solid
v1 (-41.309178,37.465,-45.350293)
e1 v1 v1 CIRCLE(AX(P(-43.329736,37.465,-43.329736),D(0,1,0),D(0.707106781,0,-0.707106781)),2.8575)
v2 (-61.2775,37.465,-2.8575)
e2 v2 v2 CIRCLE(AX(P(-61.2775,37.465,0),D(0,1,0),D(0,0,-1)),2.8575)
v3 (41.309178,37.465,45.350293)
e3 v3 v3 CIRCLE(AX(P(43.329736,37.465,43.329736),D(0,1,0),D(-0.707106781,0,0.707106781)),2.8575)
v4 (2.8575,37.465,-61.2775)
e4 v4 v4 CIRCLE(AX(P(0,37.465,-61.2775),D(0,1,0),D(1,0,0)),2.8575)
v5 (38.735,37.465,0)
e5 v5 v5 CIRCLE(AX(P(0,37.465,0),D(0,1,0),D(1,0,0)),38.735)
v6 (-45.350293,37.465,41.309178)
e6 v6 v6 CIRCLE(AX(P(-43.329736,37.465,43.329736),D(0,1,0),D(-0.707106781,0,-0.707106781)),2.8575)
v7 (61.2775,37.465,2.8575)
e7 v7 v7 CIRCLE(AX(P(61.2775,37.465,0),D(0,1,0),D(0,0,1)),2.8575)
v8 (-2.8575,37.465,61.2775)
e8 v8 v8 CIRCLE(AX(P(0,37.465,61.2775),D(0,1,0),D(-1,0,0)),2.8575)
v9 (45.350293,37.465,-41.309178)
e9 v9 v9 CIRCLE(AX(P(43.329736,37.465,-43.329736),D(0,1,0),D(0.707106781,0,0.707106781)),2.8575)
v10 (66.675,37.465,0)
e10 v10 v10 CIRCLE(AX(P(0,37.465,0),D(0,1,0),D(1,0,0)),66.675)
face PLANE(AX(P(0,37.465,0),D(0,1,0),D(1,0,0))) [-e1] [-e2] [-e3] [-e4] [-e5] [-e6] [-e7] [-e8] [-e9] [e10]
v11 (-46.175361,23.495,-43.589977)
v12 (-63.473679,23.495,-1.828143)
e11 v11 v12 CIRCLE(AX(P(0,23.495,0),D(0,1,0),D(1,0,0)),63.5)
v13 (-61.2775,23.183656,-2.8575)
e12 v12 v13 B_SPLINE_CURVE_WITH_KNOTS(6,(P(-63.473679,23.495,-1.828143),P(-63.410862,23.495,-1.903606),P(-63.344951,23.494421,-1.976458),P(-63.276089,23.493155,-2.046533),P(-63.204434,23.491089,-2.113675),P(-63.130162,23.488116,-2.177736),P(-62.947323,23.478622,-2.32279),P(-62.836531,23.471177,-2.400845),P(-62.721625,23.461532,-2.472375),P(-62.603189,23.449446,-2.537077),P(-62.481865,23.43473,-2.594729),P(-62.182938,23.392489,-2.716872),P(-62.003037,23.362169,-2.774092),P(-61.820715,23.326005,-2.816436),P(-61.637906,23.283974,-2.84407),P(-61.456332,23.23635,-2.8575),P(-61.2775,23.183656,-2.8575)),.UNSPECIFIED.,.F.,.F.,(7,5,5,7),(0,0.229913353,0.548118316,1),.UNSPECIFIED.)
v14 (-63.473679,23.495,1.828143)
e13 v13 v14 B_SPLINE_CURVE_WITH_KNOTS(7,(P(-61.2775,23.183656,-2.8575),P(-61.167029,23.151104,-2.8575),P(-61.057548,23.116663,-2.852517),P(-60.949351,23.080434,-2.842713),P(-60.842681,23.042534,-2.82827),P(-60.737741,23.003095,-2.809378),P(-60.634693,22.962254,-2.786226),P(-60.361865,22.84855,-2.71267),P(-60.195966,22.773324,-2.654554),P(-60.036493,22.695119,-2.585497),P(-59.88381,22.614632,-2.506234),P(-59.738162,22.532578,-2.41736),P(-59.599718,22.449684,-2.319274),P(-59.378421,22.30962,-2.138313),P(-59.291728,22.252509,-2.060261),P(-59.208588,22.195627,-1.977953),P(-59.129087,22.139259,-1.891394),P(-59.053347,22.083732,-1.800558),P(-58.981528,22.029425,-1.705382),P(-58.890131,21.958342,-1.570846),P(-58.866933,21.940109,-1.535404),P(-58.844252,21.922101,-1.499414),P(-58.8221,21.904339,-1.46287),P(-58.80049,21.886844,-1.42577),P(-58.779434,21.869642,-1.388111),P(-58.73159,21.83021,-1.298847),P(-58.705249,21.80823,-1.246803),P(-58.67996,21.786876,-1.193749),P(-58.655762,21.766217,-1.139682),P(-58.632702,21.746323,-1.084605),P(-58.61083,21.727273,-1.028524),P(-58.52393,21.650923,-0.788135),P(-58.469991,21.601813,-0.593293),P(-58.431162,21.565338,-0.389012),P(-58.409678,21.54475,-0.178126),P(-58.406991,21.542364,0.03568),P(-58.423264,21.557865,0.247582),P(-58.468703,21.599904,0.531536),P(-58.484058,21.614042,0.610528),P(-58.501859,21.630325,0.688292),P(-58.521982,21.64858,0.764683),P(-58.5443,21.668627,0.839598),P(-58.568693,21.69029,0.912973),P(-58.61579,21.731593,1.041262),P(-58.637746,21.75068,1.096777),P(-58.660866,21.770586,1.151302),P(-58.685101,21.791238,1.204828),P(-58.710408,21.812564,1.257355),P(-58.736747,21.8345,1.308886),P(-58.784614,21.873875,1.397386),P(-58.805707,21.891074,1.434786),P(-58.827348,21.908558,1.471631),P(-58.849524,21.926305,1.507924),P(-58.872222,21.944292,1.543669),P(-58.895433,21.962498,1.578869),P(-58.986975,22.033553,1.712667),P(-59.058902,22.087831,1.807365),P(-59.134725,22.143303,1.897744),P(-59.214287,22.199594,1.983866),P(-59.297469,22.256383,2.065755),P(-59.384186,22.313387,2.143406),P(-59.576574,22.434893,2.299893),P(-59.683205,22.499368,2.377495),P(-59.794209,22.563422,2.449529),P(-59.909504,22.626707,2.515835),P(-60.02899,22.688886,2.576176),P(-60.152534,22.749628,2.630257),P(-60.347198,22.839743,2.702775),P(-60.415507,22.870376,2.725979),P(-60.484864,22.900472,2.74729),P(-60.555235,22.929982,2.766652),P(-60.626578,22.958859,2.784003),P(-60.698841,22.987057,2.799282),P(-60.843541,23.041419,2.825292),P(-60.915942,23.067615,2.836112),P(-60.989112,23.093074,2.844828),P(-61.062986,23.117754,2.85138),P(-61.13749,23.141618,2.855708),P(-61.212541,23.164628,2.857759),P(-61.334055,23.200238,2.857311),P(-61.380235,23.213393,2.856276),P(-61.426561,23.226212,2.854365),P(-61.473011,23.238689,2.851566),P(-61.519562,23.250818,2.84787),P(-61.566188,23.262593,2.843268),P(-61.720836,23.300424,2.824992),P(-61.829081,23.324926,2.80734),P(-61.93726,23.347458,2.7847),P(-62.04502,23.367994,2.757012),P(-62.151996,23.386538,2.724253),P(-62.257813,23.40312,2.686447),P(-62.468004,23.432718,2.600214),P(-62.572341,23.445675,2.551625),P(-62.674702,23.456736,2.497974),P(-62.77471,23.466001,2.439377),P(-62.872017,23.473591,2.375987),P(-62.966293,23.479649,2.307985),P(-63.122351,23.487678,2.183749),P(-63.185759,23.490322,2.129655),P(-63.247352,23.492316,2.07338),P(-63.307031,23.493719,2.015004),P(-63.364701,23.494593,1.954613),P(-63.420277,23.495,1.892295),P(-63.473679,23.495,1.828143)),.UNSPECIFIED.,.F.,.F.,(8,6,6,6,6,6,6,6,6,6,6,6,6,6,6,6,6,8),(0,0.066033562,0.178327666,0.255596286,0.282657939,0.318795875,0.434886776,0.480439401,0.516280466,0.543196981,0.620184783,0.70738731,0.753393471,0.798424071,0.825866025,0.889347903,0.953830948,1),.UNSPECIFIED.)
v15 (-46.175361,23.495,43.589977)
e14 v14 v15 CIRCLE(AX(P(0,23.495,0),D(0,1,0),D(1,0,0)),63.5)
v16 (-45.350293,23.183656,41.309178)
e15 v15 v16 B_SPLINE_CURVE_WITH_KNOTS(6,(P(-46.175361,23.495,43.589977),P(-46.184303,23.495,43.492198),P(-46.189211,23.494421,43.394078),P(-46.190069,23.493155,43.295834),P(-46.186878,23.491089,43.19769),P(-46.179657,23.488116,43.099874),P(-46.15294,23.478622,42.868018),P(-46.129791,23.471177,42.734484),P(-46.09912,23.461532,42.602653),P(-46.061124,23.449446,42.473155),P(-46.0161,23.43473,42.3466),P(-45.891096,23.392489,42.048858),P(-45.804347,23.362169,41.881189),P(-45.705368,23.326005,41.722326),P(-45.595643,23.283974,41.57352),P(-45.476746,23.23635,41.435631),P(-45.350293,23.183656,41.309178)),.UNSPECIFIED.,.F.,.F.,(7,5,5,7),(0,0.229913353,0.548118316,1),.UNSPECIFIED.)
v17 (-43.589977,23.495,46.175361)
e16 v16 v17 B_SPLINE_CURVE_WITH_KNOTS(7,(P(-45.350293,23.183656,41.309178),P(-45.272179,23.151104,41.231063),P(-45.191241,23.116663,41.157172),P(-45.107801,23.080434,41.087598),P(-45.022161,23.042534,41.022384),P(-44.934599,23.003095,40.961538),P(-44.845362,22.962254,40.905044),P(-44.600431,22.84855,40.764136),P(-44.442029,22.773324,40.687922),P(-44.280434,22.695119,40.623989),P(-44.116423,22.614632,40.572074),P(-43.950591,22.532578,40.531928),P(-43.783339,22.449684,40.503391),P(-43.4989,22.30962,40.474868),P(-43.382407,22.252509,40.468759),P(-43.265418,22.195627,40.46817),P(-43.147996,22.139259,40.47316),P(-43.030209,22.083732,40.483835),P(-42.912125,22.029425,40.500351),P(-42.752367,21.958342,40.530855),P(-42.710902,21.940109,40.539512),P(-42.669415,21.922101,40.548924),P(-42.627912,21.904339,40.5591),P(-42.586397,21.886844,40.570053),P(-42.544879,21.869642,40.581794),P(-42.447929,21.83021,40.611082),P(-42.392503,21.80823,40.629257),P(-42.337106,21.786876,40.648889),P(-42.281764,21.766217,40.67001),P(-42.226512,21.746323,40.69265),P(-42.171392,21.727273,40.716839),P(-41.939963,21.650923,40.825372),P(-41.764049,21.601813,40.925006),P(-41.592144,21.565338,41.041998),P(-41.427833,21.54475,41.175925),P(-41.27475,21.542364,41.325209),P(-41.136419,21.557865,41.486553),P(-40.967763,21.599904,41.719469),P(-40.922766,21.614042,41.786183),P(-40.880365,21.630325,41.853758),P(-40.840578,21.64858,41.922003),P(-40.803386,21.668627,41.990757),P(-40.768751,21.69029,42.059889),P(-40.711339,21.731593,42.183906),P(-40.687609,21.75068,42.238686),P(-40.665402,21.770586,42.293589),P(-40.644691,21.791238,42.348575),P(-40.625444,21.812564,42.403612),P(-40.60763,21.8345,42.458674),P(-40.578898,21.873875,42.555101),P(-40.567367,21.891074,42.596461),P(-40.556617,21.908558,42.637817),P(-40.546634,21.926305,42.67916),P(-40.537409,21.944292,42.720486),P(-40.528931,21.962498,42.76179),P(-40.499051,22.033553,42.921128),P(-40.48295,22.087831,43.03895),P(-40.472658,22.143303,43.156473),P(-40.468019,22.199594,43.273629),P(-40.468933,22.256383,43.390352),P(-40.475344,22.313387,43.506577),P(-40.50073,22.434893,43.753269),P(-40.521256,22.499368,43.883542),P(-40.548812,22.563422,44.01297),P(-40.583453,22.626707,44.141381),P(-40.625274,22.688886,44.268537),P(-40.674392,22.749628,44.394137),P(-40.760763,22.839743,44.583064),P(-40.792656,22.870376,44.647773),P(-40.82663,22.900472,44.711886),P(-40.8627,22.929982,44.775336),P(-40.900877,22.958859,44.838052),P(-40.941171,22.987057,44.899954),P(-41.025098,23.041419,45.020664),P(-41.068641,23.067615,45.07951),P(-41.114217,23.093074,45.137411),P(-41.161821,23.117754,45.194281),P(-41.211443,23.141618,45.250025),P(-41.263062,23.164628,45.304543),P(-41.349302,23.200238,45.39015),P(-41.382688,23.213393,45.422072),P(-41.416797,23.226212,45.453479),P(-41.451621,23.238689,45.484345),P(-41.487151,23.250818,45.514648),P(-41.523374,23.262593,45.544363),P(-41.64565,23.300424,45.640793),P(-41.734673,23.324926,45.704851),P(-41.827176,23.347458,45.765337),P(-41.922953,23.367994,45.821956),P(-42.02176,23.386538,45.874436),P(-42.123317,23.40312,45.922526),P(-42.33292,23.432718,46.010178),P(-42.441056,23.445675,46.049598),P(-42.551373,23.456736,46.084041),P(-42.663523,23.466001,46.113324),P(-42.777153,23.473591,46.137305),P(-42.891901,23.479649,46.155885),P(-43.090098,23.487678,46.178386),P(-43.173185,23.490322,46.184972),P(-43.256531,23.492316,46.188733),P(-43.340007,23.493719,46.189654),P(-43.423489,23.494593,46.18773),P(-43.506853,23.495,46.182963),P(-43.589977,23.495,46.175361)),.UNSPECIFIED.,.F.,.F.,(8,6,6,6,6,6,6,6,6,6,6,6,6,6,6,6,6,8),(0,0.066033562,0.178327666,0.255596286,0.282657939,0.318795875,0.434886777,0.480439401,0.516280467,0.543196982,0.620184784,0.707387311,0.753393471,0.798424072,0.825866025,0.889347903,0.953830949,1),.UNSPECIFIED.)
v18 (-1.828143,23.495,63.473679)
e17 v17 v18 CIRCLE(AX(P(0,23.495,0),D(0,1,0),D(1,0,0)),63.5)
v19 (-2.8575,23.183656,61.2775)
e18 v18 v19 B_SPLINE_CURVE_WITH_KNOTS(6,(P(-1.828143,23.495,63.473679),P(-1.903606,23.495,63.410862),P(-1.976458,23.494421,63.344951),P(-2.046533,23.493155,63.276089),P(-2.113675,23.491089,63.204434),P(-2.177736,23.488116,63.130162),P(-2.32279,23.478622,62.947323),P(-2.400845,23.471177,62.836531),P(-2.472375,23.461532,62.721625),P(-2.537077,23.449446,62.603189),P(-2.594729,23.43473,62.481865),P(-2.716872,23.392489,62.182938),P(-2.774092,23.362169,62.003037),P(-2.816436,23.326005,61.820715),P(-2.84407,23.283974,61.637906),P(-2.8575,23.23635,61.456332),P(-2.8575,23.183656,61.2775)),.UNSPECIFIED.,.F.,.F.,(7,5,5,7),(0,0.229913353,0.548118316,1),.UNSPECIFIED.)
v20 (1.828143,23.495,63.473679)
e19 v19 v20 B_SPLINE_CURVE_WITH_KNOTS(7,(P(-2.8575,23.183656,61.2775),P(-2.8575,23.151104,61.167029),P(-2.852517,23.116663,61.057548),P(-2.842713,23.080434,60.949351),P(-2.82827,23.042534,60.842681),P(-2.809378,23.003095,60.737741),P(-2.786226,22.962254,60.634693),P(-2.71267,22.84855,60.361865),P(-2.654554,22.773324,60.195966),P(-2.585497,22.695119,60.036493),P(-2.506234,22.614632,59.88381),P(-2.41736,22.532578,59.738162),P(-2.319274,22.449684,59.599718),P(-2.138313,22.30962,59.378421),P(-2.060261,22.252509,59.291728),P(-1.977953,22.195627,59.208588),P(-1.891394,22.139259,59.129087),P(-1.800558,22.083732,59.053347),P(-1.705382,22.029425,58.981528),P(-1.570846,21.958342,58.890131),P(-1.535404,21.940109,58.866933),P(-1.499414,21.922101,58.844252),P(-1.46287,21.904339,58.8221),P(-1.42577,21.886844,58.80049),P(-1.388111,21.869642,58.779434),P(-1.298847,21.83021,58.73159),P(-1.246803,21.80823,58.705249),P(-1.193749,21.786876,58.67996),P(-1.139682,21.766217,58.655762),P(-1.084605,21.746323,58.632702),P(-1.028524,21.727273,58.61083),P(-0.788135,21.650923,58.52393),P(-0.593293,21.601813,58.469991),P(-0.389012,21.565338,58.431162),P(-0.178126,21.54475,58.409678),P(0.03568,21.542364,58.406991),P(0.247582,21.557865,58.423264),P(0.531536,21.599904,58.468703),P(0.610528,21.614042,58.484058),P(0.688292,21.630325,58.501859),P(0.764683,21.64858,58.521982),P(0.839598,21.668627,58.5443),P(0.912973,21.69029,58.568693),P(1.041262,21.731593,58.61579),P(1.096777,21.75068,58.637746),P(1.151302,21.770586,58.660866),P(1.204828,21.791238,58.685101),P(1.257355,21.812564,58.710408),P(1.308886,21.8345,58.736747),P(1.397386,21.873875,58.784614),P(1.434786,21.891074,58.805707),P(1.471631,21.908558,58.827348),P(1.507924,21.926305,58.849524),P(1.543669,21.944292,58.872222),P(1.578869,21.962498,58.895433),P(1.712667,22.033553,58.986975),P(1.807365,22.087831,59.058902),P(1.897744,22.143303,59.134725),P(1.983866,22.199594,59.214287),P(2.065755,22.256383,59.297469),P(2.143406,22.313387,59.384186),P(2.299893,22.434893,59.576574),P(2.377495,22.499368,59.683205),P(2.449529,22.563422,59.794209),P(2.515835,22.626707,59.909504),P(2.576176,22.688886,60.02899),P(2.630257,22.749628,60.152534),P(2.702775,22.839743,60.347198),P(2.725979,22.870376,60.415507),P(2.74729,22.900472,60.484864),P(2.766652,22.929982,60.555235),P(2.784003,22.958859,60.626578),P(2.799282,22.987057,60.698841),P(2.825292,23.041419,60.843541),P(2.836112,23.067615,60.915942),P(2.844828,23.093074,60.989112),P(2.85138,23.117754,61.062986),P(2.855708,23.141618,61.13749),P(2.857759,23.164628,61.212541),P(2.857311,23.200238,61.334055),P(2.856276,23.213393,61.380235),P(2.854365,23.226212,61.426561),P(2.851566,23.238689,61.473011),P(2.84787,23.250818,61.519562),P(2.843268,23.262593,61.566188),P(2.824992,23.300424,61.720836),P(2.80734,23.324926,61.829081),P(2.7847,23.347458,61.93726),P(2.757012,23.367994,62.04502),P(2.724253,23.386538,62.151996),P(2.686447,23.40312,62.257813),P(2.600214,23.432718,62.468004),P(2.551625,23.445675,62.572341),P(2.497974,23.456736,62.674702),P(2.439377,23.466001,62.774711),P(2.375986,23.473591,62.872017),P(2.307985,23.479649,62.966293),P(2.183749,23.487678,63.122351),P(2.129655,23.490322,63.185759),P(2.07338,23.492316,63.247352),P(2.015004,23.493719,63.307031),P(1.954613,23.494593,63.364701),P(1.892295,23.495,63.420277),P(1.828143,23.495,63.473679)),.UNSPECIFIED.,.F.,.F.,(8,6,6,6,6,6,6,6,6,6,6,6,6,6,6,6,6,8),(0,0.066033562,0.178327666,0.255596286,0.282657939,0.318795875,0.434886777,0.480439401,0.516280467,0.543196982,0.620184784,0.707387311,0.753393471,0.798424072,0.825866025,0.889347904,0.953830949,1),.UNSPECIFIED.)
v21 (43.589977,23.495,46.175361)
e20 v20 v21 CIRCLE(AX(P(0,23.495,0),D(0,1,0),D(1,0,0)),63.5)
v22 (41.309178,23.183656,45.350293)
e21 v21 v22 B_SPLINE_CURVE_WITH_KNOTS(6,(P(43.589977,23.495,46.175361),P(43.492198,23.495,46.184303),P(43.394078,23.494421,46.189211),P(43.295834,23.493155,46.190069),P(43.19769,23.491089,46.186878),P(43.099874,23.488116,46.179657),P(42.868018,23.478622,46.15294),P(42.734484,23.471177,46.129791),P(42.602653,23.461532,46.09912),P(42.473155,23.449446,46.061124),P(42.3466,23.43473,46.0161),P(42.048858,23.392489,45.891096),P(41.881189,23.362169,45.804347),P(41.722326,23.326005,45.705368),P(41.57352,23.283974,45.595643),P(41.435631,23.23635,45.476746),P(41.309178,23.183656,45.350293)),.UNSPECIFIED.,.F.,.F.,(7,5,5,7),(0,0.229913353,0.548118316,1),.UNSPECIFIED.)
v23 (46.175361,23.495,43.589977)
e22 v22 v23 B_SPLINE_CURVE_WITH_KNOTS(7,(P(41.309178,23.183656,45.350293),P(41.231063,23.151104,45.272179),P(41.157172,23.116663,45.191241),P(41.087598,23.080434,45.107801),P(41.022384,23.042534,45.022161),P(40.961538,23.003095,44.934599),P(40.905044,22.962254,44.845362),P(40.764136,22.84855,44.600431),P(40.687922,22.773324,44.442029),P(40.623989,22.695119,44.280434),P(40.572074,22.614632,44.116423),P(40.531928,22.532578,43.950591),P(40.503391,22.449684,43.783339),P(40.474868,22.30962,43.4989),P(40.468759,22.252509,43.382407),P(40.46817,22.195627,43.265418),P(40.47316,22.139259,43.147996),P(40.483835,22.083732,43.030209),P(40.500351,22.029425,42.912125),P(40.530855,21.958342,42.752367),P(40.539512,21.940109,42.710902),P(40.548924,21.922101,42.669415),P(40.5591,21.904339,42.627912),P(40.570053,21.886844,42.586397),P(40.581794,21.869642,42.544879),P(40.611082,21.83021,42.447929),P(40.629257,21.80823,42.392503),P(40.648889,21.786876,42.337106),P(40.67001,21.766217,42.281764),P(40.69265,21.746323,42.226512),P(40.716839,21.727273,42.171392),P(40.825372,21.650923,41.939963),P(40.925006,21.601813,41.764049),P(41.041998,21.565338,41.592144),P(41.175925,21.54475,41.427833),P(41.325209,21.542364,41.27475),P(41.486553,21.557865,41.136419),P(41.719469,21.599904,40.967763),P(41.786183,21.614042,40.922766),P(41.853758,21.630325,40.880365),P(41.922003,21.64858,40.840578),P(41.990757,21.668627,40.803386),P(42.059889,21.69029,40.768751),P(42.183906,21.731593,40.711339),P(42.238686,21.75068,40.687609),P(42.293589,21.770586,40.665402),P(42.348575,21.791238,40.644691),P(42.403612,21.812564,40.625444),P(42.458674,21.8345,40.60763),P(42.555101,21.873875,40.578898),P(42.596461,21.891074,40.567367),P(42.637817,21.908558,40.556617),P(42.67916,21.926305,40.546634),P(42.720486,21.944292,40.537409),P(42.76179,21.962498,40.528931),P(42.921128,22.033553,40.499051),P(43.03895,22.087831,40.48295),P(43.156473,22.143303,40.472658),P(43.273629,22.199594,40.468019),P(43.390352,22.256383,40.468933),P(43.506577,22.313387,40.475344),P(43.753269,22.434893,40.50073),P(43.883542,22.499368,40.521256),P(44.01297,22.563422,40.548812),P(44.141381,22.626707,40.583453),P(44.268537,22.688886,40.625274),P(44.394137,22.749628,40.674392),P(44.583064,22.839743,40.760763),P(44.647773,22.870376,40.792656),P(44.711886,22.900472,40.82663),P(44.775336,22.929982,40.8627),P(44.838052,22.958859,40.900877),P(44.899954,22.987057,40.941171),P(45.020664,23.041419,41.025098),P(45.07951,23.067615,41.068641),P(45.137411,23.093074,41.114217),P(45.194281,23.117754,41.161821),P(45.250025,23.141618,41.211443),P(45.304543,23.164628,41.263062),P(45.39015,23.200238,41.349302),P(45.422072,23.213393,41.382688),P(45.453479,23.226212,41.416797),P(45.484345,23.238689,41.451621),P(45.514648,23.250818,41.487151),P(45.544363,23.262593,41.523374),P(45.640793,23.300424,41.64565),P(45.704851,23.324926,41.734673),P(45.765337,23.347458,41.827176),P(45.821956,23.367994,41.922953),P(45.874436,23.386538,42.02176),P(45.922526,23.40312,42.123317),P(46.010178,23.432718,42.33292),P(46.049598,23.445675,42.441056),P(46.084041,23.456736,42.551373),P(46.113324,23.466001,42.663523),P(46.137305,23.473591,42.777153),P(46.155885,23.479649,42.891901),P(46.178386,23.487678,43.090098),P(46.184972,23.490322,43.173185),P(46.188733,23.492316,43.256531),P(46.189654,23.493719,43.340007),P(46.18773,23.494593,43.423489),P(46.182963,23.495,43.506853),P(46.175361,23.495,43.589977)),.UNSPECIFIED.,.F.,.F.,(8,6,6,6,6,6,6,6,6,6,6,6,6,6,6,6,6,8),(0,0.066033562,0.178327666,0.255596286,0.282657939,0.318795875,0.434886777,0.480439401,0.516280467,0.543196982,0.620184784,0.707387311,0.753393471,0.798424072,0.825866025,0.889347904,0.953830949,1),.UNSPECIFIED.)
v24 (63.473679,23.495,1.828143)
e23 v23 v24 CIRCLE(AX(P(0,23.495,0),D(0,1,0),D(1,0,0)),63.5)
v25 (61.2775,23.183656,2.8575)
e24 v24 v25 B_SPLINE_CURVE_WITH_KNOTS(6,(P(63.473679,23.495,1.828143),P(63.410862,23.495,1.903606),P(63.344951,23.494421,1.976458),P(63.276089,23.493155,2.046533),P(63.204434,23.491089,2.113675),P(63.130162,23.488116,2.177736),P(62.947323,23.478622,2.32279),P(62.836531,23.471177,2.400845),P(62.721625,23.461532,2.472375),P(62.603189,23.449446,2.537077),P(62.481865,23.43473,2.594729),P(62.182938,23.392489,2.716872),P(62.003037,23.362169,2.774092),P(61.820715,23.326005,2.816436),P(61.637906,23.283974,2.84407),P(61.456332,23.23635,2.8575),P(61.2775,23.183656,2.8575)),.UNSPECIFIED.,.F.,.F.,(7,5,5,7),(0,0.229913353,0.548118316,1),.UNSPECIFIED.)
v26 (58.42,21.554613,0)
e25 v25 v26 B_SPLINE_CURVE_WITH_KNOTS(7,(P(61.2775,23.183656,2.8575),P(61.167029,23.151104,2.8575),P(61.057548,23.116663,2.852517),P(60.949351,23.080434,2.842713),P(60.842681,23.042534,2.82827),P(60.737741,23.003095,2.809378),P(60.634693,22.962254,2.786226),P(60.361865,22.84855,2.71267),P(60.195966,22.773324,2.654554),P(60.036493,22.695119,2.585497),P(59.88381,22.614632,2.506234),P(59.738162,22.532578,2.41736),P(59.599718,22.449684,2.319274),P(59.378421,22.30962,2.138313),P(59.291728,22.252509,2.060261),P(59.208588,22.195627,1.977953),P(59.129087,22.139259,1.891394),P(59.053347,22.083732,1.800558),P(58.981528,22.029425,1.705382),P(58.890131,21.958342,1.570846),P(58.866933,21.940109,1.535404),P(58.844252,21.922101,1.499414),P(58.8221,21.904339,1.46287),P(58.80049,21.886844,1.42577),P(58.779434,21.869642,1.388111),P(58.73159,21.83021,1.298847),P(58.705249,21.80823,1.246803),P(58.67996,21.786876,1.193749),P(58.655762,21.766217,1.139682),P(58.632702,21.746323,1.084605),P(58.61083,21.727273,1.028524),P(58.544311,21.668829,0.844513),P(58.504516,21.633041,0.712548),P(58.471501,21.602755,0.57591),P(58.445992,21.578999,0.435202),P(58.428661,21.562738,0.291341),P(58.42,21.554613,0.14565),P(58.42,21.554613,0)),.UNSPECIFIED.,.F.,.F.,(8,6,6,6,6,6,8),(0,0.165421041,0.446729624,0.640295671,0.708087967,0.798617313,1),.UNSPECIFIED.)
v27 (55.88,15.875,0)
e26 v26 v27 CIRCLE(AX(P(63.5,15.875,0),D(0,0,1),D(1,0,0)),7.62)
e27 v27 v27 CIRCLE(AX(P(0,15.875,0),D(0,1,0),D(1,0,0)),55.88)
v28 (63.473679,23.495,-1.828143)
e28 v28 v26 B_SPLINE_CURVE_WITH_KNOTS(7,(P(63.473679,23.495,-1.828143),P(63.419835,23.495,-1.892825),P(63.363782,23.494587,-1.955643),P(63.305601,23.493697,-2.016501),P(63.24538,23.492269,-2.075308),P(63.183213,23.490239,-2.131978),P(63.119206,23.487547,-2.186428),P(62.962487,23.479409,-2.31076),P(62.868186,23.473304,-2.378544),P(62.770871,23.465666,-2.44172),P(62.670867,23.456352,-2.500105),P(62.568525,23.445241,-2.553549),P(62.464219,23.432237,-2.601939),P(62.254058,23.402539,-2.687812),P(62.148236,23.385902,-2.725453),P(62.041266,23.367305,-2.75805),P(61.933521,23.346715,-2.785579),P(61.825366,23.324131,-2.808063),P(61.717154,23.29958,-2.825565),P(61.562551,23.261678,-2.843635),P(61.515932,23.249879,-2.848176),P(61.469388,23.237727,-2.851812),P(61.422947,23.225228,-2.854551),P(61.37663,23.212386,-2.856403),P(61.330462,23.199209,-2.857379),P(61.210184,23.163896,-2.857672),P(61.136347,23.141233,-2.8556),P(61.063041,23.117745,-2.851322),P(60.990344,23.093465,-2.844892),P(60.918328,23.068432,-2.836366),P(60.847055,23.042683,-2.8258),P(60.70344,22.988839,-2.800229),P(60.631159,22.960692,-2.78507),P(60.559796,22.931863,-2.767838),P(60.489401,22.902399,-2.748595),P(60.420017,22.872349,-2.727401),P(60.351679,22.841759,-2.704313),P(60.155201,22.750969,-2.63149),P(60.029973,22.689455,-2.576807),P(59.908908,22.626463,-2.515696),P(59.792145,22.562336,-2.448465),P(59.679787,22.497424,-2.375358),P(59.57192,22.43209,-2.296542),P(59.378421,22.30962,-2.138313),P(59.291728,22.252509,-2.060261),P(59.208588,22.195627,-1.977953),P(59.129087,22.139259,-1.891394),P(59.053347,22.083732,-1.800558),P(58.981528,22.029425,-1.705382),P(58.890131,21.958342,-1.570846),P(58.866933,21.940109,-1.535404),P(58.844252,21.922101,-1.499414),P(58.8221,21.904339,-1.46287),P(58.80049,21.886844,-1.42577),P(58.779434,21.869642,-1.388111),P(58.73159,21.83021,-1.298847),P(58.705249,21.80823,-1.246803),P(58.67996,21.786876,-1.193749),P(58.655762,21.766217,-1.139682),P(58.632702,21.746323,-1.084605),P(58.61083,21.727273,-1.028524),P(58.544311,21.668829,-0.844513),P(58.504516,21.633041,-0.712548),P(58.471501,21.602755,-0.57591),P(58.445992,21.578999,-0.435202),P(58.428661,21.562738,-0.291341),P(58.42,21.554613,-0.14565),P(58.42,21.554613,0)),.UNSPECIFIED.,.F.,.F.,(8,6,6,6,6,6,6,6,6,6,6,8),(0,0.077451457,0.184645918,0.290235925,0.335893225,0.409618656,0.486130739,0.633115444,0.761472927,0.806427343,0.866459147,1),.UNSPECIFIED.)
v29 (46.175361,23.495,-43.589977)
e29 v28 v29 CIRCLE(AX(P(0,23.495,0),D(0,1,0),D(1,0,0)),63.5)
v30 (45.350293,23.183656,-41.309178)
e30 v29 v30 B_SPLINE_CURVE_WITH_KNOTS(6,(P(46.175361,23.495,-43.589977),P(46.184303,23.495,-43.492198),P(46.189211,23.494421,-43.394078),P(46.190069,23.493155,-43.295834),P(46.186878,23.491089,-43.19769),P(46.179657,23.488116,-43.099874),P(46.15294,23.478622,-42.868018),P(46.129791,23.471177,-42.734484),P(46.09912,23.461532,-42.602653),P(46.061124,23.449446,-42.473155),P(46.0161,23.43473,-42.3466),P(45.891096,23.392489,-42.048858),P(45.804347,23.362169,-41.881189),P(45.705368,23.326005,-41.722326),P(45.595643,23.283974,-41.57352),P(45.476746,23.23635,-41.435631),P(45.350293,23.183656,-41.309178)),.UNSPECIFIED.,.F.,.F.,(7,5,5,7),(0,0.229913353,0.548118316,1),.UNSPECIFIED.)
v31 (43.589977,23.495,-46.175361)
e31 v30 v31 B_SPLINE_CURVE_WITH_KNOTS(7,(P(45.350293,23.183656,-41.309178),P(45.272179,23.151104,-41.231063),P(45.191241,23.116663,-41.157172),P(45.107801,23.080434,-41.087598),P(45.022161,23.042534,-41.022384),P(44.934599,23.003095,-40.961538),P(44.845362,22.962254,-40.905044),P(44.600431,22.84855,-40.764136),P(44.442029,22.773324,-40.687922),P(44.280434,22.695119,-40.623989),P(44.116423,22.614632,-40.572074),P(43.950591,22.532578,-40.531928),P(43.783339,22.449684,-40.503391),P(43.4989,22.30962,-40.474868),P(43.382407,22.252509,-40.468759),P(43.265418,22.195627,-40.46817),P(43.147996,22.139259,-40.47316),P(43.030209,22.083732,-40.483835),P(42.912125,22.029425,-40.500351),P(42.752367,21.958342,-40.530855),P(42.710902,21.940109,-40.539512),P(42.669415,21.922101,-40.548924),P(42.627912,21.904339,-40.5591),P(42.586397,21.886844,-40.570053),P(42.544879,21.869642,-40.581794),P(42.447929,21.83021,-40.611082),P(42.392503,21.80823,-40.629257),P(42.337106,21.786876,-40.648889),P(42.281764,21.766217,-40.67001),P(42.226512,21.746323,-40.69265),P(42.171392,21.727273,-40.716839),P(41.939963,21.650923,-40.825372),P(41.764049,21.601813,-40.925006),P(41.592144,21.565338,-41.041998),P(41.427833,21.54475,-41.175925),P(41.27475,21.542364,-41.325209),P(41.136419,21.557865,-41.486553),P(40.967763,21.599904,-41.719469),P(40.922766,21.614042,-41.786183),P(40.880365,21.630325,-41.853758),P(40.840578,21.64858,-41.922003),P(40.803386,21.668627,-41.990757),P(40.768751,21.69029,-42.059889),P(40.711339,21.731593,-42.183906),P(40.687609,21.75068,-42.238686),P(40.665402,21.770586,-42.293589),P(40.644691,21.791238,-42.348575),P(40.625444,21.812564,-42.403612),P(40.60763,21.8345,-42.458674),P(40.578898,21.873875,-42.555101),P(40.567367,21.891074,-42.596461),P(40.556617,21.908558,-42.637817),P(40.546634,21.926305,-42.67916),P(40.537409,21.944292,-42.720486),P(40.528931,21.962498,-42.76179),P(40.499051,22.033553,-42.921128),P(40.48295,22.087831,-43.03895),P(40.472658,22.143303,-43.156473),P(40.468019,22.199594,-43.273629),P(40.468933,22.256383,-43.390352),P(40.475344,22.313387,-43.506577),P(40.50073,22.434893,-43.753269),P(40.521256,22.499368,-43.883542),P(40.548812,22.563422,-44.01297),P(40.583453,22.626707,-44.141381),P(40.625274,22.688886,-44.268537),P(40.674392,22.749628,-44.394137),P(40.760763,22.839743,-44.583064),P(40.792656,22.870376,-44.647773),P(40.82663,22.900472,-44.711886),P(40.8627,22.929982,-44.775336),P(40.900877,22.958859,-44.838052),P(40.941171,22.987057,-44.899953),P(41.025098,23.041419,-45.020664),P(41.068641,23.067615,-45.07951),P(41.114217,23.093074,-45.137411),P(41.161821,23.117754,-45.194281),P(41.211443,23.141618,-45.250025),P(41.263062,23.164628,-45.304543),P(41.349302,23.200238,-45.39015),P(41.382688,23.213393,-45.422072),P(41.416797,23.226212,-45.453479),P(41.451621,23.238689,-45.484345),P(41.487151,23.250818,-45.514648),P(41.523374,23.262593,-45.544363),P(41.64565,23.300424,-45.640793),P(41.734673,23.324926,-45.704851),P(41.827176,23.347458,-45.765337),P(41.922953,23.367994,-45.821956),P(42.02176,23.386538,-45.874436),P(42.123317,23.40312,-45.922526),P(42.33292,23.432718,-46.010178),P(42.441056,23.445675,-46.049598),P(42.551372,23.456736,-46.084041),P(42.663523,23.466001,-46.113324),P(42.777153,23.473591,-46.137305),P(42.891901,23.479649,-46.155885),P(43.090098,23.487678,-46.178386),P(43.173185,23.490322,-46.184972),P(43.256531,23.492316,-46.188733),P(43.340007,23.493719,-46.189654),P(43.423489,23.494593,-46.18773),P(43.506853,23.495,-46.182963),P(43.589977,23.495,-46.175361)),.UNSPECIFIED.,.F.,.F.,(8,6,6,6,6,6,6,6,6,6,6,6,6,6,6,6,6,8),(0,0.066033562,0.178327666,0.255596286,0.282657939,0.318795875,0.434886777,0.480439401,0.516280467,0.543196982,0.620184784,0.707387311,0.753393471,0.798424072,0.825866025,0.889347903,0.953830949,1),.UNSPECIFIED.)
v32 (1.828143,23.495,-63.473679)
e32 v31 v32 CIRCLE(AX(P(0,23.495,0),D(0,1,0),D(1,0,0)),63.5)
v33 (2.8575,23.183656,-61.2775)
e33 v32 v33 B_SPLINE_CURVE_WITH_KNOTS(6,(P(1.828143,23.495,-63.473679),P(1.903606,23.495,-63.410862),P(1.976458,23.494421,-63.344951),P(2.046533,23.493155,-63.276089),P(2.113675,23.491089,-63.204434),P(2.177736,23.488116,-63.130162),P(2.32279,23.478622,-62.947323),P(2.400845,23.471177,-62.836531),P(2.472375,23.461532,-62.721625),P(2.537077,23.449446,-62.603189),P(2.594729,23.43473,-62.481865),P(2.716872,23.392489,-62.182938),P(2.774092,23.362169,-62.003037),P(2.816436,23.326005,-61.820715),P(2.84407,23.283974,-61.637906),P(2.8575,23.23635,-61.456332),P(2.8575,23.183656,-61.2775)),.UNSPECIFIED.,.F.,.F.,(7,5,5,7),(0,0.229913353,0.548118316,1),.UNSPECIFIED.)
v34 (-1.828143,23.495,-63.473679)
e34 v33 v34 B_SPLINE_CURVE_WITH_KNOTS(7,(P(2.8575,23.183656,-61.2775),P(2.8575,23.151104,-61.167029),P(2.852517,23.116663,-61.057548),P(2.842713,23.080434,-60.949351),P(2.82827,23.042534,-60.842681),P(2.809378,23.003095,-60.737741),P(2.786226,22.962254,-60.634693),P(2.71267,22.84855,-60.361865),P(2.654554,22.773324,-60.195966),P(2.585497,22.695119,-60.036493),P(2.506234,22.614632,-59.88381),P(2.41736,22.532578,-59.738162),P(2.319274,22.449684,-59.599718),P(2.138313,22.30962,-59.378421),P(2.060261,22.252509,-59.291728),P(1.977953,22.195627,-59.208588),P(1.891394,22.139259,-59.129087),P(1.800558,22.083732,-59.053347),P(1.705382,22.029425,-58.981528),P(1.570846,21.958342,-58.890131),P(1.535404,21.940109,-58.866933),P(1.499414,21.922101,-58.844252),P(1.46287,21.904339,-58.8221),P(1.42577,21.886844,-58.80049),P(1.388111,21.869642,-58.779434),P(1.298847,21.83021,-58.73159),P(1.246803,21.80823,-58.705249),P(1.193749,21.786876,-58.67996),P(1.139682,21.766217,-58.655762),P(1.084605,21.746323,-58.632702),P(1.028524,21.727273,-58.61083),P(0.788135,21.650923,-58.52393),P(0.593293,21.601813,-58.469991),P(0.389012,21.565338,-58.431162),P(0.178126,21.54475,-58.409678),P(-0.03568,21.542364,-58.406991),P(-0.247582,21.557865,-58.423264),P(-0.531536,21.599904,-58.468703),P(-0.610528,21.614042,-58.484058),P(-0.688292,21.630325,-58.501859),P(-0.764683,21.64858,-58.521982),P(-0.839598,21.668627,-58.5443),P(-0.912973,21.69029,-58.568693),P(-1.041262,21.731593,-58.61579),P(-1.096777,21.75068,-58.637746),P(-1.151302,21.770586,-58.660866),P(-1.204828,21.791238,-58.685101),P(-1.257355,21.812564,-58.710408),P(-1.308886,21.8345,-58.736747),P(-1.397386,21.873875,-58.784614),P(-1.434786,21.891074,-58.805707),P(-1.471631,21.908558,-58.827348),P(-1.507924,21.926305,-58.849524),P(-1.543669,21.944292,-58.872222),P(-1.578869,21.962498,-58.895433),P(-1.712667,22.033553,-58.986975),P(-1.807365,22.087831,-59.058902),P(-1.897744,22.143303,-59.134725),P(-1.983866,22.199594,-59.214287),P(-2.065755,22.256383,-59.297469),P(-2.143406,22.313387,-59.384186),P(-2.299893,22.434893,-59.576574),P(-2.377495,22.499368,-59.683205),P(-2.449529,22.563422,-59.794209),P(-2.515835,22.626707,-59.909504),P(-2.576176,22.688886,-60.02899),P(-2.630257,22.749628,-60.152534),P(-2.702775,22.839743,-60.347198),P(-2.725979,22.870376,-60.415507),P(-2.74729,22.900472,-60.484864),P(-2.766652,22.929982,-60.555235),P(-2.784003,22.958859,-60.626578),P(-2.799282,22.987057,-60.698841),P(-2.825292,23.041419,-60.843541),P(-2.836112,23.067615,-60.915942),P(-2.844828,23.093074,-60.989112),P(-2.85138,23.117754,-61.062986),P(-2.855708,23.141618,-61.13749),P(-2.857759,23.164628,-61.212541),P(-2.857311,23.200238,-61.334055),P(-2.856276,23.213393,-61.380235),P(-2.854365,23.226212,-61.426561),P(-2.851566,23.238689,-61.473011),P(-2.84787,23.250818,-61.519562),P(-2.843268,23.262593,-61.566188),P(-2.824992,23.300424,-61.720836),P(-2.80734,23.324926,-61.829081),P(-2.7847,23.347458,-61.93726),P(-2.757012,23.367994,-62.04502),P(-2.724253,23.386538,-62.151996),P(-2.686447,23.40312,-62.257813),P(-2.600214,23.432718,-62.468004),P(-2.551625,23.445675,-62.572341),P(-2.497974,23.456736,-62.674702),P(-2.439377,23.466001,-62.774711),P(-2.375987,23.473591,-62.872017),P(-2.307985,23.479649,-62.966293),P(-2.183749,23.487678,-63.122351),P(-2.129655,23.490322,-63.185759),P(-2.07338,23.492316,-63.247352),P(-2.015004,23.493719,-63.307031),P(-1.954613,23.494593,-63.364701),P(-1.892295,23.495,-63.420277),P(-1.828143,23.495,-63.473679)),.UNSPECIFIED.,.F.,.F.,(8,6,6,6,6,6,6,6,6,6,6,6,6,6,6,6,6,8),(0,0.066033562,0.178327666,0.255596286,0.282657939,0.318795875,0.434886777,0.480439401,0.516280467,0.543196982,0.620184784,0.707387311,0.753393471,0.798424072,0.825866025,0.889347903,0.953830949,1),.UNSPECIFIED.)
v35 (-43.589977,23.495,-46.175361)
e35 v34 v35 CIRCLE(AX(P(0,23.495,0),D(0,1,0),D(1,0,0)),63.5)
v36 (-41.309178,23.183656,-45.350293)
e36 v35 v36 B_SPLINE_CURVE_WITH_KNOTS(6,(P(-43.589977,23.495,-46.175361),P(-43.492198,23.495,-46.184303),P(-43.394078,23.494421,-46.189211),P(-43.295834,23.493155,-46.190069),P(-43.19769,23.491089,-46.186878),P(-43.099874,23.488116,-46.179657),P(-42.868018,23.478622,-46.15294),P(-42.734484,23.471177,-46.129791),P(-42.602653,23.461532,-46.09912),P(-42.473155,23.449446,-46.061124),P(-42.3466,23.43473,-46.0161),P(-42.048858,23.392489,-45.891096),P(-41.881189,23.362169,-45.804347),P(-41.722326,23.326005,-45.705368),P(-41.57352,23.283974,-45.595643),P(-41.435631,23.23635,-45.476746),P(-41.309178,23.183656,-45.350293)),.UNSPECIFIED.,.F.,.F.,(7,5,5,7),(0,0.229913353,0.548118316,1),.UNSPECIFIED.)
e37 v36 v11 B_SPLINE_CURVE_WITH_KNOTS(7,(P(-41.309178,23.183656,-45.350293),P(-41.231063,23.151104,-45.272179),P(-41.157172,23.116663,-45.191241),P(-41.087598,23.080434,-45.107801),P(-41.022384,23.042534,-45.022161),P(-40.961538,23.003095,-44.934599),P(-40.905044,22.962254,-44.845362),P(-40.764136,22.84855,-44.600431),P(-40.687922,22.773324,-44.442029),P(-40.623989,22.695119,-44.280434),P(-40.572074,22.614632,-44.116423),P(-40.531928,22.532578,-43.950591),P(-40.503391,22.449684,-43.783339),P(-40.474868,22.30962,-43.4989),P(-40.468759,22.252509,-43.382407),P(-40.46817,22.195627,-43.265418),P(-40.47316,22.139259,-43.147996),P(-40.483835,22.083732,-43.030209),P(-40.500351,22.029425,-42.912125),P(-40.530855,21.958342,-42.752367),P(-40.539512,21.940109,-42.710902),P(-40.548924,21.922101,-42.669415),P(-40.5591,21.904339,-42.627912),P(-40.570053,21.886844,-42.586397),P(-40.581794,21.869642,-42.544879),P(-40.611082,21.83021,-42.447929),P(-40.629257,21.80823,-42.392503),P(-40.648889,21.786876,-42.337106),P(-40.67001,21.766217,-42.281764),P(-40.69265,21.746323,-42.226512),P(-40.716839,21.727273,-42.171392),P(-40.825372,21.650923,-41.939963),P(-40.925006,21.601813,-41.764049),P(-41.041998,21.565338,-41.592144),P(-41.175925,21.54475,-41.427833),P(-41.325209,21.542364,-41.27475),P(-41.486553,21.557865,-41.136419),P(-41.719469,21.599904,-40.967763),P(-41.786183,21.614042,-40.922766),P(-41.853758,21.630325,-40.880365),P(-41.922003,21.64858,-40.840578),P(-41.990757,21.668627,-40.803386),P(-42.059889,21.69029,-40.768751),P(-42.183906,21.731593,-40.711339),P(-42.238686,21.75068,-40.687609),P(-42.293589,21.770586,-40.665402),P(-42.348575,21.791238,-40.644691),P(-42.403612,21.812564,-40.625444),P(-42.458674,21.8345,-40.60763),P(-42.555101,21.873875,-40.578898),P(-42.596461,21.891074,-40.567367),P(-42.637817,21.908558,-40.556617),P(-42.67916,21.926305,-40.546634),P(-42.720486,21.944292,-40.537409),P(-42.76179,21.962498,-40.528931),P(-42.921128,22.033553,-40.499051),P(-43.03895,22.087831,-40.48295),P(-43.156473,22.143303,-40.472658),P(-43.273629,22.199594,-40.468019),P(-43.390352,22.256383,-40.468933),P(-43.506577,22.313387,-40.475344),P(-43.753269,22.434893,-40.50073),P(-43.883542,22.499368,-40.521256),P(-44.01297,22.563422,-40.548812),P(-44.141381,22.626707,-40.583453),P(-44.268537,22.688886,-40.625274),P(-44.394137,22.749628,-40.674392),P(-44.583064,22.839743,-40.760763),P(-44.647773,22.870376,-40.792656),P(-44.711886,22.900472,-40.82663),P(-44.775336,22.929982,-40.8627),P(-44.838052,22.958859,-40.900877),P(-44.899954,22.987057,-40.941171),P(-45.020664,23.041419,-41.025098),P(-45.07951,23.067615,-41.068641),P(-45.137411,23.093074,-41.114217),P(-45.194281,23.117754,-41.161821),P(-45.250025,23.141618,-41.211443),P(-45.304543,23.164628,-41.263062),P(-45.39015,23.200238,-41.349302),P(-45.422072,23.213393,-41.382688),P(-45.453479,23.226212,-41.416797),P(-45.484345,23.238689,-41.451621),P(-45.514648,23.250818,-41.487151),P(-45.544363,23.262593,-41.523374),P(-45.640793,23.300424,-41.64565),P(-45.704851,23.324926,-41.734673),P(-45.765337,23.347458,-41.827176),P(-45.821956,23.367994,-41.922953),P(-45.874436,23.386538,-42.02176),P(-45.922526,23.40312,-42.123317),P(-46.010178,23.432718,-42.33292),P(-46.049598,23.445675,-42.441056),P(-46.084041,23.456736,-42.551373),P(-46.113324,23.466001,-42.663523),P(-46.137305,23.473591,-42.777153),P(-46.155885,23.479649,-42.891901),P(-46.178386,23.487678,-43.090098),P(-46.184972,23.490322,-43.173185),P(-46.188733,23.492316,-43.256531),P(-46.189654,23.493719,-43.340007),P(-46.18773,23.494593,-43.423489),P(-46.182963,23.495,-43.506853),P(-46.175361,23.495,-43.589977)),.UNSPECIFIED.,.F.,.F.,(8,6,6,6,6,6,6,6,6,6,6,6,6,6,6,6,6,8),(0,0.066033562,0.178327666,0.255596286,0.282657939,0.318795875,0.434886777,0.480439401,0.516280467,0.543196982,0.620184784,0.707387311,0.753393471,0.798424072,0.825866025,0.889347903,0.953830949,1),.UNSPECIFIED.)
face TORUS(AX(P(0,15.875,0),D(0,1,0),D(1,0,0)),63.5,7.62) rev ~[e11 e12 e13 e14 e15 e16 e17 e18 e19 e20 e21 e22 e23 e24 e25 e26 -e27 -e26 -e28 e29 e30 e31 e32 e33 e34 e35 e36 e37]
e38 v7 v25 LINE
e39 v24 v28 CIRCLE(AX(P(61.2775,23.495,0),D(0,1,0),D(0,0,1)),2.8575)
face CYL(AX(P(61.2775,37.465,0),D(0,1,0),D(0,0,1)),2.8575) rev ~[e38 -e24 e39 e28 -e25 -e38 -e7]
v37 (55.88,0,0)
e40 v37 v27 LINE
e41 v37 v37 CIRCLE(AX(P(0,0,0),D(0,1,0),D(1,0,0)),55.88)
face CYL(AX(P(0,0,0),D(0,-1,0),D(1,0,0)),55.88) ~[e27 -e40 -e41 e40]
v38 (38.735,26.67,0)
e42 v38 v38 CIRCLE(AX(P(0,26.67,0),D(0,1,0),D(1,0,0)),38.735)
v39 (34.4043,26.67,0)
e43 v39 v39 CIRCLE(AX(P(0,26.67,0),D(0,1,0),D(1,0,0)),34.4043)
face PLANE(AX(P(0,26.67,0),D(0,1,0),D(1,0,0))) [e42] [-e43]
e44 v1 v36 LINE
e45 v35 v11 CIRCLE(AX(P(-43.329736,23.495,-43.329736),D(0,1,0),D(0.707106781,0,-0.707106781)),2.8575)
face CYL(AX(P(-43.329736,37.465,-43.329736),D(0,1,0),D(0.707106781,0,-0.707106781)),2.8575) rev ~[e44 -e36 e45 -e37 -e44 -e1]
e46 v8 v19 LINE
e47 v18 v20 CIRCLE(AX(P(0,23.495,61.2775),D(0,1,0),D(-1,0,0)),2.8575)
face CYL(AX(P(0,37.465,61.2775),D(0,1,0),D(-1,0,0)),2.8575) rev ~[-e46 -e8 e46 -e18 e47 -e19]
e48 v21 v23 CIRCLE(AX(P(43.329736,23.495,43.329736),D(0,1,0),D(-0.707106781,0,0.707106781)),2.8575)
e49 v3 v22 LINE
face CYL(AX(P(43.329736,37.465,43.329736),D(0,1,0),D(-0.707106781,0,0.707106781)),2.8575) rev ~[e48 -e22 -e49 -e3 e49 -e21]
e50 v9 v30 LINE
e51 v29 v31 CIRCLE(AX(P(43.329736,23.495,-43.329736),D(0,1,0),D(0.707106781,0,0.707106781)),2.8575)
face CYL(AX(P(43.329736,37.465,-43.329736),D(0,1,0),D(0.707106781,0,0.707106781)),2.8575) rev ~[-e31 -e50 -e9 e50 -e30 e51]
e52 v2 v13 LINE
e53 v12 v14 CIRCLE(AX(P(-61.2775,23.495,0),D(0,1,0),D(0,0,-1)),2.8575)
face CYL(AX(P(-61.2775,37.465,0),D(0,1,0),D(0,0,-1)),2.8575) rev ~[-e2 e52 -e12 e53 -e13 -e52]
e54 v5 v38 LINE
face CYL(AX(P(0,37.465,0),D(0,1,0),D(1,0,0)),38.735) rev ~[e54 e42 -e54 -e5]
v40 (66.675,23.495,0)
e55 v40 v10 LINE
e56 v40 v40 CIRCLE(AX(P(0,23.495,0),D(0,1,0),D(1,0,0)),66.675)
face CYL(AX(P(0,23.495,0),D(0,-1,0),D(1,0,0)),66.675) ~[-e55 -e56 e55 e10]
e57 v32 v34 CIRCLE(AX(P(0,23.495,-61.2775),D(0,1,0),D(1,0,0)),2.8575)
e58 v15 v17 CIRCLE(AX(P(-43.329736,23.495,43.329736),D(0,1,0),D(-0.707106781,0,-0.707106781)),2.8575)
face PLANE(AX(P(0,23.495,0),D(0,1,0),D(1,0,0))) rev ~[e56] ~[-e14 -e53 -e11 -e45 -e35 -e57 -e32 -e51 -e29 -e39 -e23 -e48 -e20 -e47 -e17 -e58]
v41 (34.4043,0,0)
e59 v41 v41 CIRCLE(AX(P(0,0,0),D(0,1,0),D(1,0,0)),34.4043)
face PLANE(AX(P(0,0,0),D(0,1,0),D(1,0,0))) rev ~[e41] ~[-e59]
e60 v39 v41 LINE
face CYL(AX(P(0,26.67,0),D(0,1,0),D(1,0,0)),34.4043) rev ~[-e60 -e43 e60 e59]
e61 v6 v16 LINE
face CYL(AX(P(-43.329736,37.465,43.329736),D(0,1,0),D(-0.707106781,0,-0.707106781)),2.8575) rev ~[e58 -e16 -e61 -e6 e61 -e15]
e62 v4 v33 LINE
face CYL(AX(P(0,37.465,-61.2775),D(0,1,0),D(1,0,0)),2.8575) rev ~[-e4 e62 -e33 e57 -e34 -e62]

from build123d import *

# Parameters (mm, degrees)
SKETCH1_R           = 55.88
BOSS_EXTRUDE1_DEPTH = 23.495
SKETCH2_R           = 66.675
BOSS_EXTRUDE2_DEPTH = 13.97
FILLET1_R           = 7.62
SKETCH3_R           = 2.8575
CUT_EXTRUDE1_DEPTH  = 38.465
CIRPATTERN1_COUNT   = 8
SKETCH4_R           = 38.735
CUT_EXTRUDE2_DEPTH  = 10.795
SKETCH5_R           = 34.4043
CUT_EXTRUDE3_DEPTH  = 40.894


with BuildPart() as part:
    # Sketch1 → Boss-Extrude1 (new body)
    with BuildSketch(Plane(origin=(0, 0, 0), x_dir=(1, 0, 0), z_dir=(0, 1, 0))):
        Circle(SKETCH1_R)
    extrude(amount=BOSS_EXTRUDE1_DEPTH)

    # Sketch2 → Boss-Extrude2 (add)
    with BuildSketch(Plane(origin=(0, 23.495, 0), x_dir=(1, 0, 0), z_dir=(0, 1, 0))):
        Circle(SKETCH2_R)
    extrude(amount=BOSS_EXTRUDE2_DEPTH)

    # Fillet1
    fillet1_edges = [part.edges().sort_by_distance(p)[0] for p in [
        (-55.88, 23.495, 0),
    ]]
    fillet(fillet1_edges, radius=FILLET1_R)

    # Sketch3 → Cut-Extrude1 (cut, through all)
    with BuildSketch(Plane(origin=(0, 37.465, 0), x_dir=(1, 0, 0), z_dir=(0, 1, 0))):
        with Locations((0, 61.2775)):
            Circle(SKETCH3_R)
    cut_extrude1 = extrude(amount=-CUT_EXTRUDE1_DEPTH, mode=Mode.SUBTRACT)

    # CirPattern1: Cut-Extrude1 ×8 about axis
    cirpattern1_axis = Axis((0, 0, 0), (0, 1, 0))
    for i in range(1, CIRPATTERN1_COUNT):
        add(cut_extrude1.rotate(cirpattern1_axis, i * 360 / CIRPATTERN1_COUNT), mode=Mode.SUBTRACT)

    # Sketch4 → Cut-Extrude2 (cut)
    with BuildSketch(Plane(origin=(0, 37.465, 0), x_dir=(1, 0, 0), z_dir=(0, 1, 0))):
        Circle(SKETCH4_R)
    extrude(amount=-CUT_EXTRUDE2_DEPTH, mode=Mode.SUBTRACT)

    # Sketch5 → Cut-Extrude3 (cut)
    with BuildSketch(Plane(origin=(0, 26.67, 0), x_dir=(1, 0, 0), z_dir=(0, 1, 0))):
        Circle(SKETCH5_R)
    extrude(amount=-CUT_EXTRUDE3_DEPTH, mode=Mode.SUBTRACT)


solid = part.part
